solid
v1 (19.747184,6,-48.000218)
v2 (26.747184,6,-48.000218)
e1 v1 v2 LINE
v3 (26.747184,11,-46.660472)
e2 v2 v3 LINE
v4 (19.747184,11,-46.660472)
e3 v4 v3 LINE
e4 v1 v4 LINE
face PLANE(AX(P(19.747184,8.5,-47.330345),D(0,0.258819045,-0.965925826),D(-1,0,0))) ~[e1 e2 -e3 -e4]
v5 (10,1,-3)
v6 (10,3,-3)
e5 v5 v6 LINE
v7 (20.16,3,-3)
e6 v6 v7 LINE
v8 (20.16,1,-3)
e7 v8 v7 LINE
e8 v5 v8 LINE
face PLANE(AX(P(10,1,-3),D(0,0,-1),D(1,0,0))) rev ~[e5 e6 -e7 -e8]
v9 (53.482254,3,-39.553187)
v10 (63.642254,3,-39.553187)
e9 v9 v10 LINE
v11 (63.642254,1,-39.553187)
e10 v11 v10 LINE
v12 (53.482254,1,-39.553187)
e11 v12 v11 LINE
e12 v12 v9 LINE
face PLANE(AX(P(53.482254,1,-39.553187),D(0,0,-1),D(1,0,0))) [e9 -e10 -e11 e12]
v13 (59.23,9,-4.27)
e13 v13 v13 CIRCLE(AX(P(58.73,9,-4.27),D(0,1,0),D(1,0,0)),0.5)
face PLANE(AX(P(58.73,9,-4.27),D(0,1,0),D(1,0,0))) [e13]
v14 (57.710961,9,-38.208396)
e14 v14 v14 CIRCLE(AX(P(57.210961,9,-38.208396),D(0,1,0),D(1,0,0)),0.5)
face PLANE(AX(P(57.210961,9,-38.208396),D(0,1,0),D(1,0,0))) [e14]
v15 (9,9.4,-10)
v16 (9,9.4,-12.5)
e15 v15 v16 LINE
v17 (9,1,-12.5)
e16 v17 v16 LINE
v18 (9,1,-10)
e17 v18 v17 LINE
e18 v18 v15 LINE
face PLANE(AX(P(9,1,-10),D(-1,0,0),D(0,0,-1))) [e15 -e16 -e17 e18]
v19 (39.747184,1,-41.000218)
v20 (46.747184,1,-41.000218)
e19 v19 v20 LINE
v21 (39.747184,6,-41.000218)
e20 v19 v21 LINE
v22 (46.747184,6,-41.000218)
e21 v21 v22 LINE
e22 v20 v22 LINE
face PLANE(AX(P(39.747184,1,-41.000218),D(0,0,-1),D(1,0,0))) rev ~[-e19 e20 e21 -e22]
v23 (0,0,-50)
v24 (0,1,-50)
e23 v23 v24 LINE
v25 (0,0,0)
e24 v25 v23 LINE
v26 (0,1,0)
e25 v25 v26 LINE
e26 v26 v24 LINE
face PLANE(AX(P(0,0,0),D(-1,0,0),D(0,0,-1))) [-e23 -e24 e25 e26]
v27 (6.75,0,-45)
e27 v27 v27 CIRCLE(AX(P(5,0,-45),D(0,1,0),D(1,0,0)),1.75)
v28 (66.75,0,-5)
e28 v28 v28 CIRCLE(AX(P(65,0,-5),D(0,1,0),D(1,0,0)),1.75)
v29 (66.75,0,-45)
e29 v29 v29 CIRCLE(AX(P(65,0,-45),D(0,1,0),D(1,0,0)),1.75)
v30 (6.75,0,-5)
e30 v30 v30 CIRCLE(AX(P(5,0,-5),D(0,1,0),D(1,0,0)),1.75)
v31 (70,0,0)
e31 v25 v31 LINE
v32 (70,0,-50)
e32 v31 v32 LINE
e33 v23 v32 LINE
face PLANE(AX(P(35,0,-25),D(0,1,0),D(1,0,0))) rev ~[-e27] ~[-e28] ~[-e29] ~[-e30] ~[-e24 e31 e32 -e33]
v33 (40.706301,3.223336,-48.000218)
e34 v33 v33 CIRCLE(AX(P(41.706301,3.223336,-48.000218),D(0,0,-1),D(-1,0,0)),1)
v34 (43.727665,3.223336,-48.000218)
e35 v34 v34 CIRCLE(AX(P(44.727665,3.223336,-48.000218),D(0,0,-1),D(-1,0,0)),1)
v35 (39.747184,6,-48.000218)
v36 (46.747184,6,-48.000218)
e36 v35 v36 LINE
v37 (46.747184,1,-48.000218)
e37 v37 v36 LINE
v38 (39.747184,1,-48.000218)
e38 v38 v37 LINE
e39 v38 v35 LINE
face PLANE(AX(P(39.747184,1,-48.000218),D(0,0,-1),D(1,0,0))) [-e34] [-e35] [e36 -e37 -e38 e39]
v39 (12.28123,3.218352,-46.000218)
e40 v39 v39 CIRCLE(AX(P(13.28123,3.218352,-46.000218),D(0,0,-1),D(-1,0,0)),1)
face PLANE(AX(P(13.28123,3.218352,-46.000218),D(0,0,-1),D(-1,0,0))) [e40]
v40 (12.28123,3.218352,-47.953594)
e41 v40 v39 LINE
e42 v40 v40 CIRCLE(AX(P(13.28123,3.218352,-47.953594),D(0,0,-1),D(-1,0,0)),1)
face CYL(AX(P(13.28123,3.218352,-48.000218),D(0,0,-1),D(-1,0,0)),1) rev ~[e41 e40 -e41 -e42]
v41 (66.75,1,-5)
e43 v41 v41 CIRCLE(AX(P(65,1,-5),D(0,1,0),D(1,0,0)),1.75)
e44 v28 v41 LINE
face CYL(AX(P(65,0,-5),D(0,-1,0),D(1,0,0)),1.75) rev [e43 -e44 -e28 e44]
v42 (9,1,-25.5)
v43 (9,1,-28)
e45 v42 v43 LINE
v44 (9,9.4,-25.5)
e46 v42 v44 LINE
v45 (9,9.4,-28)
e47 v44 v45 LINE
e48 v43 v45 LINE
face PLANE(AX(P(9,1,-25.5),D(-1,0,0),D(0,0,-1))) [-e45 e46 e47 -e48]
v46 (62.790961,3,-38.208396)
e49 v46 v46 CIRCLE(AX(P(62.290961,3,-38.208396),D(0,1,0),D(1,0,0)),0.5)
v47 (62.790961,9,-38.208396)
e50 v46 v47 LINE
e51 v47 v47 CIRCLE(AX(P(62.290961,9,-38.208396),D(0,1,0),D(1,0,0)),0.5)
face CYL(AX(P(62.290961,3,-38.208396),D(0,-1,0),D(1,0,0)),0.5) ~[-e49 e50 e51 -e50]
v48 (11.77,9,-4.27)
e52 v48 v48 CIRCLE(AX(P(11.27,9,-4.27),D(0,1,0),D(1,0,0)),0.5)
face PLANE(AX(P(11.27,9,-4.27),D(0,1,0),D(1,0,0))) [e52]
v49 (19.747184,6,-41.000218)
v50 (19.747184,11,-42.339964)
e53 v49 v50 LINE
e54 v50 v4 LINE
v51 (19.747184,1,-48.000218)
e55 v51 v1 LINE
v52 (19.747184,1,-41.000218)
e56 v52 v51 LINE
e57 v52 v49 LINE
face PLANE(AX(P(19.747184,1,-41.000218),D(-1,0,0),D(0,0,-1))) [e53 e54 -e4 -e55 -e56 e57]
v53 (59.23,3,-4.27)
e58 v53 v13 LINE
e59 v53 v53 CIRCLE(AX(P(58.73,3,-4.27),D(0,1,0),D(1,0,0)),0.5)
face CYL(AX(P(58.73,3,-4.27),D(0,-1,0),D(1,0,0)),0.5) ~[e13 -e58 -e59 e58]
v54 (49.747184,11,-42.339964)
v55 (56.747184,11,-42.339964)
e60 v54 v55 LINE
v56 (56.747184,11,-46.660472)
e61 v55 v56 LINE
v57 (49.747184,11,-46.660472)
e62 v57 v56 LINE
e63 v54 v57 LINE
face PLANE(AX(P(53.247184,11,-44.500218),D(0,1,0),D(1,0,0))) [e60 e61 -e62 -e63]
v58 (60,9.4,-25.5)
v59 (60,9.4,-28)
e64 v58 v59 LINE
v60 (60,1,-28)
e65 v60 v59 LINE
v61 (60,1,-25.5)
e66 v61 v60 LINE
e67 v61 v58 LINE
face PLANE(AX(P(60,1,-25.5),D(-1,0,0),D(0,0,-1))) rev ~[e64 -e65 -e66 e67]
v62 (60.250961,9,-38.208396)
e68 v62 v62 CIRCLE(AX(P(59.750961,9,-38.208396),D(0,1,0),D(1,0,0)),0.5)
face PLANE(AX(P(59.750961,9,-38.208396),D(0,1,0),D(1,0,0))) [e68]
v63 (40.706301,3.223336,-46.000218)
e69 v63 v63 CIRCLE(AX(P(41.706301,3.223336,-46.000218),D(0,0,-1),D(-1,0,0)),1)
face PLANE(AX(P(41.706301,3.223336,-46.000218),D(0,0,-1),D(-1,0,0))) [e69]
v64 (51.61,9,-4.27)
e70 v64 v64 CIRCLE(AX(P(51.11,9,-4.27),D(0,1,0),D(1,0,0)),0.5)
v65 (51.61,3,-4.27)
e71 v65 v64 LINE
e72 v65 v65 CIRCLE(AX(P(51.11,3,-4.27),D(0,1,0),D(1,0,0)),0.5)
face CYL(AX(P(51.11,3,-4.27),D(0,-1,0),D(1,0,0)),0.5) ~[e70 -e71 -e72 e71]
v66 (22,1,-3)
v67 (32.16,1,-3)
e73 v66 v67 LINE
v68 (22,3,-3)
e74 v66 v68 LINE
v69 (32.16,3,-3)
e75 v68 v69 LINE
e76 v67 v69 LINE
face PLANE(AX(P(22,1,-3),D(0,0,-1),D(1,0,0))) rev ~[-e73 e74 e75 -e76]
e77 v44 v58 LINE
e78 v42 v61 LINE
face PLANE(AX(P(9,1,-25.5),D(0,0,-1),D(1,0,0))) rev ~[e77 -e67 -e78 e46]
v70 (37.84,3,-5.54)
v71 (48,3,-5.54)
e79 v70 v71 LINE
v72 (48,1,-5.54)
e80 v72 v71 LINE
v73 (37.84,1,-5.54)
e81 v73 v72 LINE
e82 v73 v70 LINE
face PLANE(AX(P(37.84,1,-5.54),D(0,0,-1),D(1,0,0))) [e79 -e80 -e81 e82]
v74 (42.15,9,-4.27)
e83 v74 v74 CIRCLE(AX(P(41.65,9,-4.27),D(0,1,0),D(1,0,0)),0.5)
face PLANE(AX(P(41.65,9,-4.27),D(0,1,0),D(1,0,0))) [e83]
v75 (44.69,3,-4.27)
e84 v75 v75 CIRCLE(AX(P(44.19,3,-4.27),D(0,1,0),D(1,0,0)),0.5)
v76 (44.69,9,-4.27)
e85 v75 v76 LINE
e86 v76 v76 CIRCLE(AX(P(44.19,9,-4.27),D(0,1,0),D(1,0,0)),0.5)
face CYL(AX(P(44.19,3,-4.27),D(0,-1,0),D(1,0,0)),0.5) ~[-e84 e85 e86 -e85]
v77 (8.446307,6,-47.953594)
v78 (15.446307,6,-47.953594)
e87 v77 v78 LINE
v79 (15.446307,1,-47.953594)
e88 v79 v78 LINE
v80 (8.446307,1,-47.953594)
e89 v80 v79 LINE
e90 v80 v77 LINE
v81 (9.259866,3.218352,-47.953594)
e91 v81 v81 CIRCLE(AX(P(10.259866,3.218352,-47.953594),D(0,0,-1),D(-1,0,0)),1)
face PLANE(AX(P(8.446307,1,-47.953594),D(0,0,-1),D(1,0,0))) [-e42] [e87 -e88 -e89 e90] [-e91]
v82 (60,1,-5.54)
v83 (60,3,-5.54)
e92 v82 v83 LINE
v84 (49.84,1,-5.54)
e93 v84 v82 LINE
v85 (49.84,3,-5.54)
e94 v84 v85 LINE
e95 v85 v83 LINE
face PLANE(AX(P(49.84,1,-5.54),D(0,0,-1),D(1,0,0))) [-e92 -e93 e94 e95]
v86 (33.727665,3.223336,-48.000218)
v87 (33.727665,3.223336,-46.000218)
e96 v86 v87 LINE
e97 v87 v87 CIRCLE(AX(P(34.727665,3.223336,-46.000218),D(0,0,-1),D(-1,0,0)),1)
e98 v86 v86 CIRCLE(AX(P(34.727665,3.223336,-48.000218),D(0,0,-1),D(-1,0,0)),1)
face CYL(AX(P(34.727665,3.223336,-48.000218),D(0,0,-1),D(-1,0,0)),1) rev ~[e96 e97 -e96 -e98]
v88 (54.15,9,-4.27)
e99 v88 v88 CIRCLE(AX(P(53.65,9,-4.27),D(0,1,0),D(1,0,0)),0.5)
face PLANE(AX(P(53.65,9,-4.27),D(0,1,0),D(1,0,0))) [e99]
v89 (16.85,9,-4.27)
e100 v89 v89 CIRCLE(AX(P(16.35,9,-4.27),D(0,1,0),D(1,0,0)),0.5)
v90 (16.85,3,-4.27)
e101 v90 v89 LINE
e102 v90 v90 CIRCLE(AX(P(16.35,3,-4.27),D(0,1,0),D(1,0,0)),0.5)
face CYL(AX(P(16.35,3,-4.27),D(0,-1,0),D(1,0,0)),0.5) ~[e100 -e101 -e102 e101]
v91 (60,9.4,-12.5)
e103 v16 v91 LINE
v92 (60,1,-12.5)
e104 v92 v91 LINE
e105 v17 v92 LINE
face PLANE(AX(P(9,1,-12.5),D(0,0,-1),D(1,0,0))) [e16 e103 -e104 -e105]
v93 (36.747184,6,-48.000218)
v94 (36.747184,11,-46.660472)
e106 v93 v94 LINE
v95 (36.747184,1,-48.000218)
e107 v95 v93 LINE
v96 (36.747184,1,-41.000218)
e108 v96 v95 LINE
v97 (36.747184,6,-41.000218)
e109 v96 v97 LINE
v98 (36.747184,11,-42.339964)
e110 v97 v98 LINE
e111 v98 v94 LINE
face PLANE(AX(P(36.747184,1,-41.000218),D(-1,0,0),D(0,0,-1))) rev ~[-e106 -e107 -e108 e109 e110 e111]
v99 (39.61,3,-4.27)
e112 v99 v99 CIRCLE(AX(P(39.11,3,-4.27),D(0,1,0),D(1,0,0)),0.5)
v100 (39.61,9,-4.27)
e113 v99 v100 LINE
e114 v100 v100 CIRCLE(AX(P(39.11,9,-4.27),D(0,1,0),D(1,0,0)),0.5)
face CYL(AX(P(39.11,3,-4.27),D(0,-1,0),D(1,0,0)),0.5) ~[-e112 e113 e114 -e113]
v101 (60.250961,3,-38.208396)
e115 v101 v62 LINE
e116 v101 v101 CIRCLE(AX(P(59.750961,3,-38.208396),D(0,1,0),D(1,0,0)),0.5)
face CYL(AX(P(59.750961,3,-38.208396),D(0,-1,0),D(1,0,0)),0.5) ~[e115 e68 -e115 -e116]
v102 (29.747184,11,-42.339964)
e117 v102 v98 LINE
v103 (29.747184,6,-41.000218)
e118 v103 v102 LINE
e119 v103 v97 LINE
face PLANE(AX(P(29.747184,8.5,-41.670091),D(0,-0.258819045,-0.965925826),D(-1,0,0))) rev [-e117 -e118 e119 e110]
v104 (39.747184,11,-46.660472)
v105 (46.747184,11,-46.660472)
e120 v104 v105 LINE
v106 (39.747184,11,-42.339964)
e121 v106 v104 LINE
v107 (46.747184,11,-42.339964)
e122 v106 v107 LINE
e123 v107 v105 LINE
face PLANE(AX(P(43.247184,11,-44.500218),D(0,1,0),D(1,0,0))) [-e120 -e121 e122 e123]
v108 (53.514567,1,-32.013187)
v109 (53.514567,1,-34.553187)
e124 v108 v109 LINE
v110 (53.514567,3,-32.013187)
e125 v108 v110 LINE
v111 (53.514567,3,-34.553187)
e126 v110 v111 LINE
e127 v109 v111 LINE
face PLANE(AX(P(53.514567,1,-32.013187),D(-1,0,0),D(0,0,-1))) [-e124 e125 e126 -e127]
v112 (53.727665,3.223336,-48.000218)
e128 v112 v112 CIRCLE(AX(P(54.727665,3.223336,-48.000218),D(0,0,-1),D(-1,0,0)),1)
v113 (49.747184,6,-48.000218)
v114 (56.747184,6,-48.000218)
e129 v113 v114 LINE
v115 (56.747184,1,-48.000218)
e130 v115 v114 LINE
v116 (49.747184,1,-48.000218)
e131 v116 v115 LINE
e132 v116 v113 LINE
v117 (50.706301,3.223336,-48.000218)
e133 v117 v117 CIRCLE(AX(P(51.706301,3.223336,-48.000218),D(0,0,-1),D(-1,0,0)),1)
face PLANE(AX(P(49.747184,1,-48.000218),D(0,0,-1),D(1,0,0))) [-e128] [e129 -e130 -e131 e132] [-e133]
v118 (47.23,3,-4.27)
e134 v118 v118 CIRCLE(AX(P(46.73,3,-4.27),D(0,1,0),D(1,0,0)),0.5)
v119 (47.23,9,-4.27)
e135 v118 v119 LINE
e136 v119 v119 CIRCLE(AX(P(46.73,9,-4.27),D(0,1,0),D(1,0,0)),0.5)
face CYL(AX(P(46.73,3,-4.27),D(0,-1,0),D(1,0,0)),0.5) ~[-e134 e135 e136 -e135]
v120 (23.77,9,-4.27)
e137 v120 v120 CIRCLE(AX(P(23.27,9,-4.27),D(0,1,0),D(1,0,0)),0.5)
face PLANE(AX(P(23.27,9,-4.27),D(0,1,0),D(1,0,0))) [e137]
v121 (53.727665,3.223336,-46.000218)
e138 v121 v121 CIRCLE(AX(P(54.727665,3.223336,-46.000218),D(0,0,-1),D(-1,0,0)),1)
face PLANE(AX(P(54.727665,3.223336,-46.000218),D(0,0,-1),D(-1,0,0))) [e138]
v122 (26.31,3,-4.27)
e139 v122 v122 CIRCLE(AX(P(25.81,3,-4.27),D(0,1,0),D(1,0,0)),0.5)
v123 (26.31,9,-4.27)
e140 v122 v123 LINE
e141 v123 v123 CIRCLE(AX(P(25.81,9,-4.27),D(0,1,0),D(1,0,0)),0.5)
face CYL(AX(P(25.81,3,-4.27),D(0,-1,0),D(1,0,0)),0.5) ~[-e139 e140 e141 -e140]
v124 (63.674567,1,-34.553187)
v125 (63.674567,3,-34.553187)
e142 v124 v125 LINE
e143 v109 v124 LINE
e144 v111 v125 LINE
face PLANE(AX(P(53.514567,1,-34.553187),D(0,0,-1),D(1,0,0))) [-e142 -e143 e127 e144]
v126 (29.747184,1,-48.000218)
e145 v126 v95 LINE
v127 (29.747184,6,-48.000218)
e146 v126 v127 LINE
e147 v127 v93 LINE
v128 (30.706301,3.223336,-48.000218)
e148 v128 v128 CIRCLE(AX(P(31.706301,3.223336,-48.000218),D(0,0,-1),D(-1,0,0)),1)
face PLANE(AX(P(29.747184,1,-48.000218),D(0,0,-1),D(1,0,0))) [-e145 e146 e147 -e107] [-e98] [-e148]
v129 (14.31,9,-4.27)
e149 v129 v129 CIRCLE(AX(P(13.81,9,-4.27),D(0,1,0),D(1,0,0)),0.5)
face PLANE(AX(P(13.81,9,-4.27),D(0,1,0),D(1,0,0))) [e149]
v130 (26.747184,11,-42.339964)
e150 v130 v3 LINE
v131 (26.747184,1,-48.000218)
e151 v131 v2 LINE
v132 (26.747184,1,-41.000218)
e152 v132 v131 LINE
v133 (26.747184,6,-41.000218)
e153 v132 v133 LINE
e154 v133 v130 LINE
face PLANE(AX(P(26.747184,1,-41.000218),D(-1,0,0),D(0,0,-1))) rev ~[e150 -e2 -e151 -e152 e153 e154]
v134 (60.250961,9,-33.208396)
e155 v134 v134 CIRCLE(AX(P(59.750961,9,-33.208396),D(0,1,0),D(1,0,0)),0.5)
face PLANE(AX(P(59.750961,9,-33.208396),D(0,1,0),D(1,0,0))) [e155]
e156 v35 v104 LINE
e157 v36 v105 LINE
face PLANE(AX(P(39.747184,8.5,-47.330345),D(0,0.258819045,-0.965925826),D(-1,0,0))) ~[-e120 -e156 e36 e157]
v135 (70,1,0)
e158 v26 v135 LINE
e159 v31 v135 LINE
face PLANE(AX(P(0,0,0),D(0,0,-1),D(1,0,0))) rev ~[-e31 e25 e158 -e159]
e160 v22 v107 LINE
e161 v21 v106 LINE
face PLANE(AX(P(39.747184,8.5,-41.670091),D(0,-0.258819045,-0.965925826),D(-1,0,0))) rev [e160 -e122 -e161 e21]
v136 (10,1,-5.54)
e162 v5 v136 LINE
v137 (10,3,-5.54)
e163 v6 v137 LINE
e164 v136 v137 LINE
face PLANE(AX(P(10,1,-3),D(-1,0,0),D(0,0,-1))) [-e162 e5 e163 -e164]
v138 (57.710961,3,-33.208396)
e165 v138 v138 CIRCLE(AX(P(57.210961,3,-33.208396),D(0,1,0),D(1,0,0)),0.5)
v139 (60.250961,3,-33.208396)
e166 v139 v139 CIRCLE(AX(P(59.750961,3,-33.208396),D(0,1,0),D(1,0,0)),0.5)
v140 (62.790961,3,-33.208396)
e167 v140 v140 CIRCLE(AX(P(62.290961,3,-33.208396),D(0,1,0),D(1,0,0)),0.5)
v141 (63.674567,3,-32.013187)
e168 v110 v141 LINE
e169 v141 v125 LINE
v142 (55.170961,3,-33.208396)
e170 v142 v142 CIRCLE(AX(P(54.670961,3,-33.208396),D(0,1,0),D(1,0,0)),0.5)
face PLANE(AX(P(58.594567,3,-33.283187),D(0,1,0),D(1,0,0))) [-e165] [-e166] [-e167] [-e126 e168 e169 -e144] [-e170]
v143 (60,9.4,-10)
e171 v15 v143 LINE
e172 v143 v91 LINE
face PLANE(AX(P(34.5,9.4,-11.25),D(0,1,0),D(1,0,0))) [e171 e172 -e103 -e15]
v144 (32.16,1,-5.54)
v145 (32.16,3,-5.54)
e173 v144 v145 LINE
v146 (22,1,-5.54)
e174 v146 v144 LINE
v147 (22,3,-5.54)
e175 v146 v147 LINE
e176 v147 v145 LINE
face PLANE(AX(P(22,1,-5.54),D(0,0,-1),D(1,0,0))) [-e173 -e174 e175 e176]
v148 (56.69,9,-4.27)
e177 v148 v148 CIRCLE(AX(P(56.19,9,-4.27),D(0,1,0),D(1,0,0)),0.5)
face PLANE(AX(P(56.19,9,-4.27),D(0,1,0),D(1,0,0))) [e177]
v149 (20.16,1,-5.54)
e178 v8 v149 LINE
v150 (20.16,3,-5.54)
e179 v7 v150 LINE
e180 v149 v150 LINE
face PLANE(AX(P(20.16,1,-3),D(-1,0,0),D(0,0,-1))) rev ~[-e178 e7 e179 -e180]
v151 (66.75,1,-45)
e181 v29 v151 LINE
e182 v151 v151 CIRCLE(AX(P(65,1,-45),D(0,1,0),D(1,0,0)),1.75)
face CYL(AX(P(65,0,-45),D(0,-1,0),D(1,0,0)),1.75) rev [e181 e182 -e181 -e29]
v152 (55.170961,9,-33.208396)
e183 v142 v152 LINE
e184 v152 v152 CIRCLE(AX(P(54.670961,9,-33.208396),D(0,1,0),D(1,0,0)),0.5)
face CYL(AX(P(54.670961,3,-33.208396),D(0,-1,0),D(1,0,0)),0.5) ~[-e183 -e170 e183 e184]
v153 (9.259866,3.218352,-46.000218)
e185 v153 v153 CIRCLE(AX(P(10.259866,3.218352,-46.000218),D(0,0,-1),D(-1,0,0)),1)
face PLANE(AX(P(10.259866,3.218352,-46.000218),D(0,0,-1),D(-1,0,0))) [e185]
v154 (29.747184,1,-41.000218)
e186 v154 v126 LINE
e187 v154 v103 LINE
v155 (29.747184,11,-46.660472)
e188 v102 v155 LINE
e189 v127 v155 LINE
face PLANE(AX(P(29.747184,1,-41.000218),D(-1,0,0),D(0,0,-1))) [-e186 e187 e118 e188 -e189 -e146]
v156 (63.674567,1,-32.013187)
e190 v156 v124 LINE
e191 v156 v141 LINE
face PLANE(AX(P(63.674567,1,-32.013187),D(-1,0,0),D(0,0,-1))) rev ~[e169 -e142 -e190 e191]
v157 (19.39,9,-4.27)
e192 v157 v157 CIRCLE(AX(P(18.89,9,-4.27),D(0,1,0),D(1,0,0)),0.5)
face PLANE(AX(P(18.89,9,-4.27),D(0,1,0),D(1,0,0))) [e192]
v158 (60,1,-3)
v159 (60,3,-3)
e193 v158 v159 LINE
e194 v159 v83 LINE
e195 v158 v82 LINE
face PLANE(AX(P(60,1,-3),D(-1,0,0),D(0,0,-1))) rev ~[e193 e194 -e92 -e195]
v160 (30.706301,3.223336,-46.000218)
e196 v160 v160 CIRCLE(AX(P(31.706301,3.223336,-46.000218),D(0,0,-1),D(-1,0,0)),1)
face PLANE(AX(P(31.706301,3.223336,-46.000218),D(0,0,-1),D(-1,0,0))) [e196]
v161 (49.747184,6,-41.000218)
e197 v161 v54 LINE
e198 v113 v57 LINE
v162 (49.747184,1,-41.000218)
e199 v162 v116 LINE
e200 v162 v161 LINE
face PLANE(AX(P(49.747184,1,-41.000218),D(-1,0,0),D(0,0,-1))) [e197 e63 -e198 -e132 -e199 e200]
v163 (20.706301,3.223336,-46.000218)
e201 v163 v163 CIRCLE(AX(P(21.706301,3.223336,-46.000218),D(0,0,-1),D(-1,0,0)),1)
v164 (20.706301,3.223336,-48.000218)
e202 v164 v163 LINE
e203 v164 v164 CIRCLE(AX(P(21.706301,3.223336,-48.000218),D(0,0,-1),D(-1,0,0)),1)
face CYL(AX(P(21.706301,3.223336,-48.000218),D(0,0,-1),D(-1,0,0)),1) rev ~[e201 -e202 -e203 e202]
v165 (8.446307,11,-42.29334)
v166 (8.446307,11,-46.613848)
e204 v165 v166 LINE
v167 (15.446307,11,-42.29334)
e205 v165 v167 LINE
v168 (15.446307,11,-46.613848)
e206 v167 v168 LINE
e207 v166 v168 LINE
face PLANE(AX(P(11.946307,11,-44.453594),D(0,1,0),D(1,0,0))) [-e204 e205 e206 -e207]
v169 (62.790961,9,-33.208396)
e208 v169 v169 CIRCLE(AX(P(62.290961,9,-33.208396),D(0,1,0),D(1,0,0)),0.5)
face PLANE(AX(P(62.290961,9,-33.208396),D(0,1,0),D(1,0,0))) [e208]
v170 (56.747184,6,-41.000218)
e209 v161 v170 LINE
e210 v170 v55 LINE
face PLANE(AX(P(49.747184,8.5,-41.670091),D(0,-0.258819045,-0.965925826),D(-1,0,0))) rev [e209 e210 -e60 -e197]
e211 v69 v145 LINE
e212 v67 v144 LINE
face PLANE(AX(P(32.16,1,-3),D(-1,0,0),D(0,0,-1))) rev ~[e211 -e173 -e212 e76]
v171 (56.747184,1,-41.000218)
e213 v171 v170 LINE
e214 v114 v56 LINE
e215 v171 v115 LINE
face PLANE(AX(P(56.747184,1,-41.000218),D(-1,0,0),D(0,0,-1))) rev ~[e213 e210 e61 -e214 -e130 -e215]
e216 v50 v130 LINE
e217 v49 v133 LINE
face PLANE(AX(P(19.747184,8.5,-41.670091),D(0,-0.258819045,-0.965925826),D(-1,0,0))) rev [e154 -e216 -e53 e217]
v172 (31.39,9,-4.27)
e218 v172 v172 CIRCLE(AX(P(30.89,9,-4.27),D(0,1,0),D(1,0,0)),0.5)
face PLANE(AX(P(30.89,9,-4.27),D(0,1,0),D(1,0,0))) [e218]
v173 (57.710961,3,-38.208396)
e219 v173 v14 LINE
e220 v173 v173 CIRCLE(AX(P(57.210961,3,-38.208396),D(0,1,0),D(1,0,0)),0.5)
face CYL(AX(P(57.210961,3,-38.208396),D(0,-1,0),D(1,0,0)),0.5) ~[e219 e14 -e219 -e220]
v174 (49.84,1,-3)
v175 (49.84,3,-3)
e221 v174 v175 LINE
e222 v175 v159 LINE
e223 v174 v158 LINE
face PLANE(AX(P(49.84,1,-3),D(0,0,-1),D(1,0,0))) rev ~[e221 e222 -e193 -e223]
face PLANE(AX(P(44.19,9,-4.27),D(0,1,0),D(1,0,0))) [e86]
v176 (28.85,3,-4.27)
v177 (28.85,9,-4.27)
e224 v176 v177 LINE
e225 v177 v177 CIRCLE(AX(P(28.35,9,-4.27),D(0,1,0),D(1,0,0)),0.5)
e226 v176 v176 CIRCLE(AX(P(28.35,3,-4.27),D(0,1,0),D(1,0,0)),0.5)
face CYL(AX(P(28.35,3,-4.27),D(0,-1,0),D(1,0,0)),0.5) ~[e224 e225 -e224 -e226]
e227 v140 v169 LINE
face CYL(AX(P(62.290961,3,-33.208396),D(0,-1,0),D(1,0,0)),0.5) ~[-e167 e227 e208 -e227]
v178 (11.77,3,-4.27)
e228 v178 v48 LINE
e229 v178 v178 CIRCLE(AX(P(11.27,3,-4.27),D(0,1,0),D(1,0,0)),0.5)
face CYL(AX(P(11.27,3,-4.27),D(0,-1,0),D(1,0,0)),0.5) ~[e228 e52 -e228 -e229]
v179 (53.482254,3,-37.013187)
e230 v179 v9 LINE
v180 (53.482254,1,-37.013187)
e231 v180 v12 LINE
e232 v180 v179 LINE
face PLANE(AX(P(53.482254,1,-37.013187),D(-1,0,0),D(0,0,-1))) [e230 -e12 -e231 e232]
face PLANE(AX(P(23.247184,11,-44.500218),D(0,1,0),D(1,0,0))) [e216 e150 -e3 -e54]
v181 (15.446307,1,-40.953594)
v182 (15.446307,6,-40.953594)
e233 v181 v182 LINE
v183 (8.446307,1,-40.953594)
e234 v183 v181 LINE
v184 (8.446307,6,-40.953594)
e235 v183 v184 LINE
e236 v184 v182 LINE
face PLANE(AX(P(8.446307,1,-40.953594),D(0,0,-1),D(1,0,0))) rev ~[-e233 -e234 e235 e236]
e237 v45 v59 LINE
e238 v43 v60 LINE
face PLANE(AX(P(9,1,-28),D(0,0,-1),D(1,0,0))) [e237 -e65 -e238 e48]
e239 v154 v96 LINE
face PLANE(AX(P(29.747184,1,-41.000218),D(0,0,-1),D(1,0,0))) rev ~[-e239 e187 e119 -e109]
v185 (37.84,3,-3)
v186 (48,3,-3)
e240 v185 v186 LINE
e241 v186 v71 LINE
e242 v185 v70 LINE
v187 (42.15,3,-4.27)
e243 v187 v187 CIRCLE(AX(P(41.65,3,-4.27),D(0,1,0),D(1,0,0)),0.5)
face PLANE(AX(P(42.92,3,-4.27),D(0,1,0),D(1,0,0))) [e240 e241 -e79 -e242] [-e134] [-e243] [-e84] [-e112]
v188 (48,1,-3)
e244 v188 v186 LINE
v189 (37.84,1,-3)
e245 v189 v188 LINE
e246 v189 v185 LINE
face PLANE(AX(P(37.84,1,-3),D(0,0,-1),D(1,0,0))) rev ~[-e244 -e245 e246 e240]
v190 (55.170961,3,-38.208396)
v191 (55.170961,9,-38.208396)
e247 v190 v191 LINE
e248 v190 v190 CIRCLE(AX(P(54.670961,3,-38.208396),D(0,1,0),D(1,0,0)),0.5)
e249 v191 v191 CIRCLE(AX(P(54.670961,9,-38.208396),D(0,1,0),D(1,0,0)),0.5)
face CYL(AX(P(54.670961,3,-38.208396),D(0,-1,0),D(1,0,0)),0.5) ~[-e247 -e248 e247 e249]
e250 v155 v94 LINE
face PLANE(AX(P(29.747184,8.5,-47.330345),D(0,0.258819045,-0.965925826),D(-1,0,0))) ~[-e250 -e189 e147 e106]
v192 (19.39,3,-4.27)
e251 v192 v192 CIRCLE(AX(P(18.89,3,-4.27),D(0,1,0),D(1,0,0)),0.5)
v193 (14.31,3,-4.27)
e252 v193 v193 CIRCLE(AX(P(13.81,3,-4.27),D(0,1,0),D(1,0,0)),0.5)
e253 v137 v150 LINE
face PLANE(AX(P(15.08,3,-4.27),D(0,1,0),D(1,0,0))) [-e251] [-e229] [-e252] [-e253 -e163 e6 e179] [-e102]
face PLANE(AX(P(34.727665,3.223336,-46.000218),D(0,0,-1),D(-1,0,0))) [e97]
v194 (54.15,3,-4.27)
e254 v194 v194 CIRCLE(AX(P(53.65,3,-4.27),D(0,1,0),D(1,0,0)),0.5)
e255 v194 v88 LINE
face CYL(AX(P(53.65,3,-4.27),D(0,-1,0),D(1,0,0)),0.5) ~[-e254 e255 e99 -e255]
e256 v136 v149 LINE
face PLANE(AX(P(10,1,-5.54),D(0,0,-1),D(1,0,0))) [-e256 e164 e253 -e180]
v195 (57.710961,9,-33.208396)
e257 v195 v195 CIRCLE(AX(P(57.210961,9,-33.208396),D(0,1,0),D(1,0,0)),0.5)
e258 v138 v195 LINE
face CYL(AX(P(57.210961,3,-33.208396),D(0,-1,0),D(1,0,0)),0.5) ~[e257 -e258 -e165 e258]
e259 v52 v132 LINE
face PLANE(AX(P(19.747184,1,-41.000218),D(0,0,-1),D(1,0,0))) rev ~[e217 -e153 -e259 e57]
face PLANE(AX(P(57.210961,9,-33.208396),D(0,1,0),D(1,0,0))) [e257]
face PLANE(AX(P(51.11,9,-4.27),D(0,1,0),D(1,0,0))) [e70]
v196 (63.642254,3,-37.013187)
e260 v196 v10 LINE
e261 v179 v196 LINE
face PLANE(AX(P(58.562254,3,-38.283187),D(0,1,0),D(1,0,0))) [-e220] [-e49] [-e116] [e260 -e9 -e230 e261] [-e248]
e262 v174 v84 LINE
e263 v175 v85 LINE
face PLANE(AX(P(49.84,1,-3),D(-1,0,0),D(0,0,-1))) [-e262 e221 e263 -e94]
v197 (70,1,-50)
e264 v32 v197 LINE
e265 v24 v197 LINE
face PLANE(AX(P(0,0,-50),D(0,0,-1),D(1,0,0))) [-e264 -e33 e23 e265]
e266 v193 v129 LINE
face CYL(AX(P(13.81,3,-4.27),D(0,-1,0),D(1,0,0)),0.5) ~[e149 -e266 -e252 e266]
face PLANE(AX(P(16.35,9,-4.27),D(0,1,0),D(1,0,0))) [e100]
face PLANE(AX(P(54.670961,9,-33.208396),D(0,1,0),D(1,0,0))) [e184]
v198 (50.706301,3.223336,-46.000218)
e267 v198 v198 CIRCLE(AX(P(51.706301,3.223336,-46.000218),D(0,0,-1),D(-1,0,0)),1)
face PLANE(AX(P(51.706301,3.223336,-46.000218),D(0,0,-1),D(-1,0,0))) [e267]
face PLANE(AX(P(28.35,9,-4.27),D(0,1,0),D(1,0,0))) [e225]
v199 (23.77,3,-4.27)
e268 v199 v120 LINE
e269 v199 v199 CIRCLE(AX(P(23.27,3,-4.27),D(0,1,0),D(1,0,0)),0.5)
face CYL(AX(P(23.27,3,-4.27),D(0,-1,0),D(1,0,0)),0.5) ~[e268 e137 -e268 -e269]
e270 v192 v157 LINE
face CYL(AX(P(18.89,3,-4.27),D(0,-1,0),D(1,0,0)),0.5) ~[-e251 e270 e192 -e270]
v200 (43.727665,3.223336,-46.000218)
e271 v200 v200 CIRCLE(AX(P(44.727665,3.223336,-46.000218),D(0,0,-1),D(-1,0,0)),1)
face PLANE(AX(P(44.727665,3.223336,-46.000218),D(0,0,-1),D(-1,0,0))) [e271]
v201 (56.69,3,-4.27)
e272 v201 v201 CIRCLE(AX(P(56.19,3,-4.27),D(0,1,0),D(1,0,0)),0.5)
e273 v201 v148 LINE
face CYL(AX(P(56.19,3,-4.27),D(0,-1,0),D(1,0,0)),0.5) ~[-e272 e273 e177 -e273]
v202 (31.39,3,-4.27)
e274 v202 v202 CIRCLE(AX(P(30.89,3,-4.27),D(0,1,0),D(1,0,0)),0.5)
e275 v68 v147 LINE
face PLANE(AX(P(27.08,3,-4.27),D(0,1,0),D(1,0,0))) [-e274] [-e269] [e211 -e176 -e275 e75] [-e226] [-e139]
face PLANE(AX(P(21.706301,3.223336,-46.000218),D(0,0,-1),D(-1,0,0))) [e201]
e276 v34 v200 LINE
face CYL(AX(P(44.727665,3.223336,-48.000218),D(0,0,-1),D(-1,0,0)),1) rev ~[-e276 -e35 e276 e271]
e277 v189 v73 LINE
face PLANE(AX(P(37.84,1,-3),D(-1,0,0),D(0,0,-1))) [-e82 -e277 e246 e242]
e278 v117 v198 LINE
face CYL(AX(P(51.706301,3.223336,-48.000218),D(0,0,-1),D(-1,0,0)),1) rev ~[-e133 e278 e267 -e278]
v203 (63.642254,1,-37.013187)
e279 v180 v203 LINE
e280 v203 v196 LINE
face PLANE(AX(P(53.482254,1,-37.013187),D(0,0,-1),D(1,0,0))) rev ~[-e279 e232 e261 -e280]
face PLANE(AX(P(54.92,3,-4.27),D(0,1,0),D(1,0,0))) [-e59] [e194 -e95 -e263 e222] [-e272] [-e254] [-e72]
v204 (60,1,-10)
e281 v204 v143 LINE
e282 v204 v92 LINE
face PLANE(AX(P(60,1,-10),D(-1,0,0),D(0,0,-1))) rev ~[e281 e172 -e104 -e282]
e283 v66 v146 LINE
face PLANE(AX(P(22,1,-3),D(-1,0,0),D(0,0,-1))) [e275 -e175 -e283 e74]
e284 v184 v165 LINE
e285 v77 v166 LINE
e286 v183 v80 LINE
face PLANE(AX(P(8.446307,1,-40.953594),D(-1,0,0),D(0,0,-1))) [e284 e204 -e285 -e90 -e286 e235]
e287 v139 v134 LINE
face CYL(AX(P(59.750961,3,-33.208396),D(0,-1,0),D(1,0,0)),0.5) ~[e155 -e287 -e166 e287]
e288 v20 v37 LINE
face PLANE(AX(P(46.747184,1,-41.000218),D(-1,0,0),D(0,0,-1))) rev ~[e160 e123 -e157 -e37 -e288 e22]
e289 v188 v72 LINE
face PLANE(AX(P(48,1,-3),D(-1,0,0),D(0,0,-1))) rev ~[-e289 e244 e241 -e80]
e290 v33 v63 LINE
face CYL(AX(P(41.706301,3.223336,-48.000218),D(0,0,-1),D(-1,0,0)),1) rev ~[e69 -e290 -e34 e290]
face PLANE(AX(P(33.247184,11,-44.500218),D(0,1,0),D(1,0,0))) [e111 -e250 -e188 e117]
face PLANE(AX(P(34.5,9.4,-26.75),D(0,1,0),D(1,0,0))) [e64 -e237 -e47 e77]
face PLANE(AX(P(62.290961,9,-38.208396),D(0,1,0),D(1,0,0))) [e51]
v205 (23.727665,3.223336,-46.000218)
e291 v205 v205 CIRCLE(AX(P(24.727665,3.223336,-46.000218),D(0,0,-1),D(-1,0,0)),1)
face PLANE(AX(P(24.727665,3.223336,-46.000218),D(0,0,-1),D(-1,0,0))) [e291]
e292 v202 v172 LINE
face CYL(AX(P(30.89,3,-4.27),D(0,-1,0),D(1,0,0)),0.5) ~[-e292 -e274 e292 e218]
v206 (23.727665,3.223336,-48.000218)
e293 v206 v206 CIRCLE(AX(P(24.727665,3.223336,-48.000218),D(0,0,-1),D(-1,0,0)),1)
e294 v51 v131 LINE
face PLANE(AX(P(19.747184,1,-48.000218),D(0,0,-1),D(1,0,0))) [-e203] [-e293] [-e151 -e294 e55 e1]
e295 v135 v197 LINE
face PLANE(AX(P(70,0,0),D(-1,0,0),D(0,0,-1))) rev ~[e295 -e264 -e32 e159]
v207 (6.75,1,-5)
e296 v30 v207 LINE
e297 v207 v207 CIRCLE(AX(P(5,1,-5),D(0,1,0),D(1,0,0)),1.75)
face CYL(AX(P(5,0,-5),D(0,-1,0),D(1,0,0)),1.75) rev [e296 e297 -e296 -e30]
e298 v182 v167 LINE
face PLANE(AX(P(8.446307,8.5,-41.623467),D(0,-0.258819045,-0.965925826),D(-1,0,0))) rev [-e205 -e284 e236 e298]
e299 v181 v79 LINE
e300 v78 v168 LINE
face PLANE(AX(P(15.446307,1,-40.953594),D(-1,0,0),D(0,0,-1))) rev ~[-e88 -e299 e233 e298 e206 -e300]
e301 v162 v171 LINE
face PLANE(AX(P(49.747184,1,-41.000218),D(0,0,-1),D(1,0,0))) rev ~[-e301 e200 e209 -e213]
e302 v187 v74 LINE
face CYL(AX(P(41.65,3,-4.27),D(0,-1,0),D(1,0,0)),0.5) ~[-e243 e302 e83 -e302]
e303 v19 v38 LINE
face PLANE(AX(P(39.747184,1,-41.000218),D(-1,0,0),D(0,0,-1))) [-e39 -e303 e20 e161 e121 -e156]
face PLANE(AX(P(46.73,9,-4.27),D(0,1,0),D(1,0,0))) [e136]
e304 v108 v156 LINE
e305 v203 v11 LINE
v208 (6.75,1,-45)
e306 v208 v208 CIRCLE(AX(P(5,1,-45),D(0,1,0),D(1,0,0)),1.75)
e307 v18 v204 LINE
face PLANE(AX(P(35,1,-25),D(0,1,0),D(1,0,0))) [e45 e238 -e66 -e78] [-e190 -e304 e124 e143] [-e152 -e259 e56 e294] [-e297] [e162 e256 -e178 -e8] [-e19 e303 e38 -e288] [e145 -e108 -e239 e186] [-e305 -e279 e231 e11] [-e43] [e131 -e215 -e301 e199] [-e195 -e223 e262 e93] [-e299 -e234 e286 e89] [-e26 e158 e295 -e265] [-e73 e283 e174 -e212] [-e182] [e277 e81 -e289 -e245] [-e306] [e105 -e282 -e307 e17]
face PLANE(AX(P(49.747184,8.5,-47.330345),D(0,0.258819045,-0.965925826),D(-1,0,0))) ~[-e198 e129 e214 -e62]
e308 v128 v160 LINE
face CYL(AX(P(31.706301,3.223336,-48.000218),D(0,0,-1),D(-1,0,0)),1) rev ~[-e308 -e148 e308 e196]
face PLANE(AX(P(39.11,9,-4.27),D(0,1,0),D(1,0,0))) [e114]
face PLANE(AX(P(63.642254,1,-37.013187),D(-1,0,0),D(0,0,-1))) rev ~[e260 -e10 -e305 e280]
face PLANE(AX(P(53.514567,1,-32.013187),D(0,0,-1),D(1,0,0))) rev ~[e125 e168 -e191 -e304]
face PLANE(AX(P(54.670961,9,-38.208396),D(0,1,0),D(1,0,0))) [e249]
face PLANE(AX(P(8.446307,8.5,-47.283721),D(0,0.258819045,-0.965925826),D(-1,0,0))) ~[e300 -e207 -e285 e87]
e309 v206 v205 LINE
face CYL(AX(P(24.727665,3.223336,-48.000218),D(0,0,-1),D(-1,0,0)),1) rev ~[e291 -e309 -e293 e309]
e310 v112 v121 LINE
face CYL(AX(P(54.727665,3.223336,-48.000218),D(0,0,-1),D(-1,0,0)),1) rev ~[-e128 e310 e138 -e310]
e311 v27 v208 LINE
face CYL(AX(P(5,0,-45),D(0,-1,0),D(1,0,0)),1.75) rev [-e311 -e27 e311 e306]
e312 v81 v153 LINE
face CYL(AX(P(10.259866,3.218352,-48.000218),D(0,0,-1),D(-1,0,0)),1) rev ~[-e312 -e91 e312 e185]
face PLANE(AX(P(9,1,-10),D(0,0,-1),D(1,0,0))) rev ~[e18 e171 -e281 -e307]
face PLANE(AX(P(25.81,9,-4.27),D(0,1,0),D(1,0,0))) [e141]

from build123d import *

# Parameters (mm, degrees)
SKETCH_2_W              = 70
SKETCH_2_H              = 50
SKETCH_2_R              = 1.75
EXTRUDE_1_DEPTH         = 1
SKETCH_3_W              = 51
SKETCH_3_H              = 2.5
EXTRUDE_2_DEPTH         = 8.4
SKETCH_4_W              = 10.16
SKETCH_4_H              = 2.54
EXTRUDE_3_DEPTH         = 2
SKETCH_5_R              = 0.5
EXTRUDE_4_DEPTH         = 6
SKETCH_6_W              = 7
SKETCH_6_H              = 7
EXTRUDE_5_DEPTH         = 10
CHAMFER_1_SIZE          = 5
CHAMFER_1_SIZE2         = 1.339745962
CHAMFER_1_PART_2_SIZE   = 5
CHAMFER_1_PART_2_SIZE2  = 1.339745962
CHAMFER_1_PART_3_SIZE   = 5
CHAMFER_1_PART_3_SIZE2  = 1.339745962
CHAMFER_1_PART_4_SIZE   = 5
CHAMFER_1_PART_4_SIZE2  = 1.339745962
CHAMFER_1_PART_5_SIZE   = 5
CHAMFER_1_PART_5_SIZE2  = 1.339745962
CHAMFER_1_PART_6_SIZE   = 5
CHAMFER_1_PART_6_SIZE2  = 1.339745962
CHAMFER_1_PART_7_SIZE   = 5
CHAMFER_1_PART_7_SIZE2  = 1.339745962
CHAMFER_1_PART_8_SIZE   = 5
CHAMFER_1_PART_8_SIZE2  = 1.339745962
CHAMFER_1_PART_9_SIZE   = 5
CHAMFER_1_PART_9_SIZE2  = 1.339745962
CHAMFER_1_PART_10_SIZE  = 5
CHAMFER_1_PART_10_SIZE2 = 1.339745962
CUT_EXTRUDE_START       = 0.046624
SKETCH_7_R              = 1
CUT_EXTRUDE_1_DEPTH     = 2


with BuildPart() as part:
    # Эскиз2 → Бобышка-Вытянуть1 (new body)
    with BuildSketch(Plane(origin=(0, 0, 0), x_dir=(1, 0, 0), z_dir=(0, 1, 0))):
        with Locations((35, 25)):
            Rectangle(SKETCH_2_W, SKETCH_2_H)
        with Locations((5, 45)):
            Circle(SKETCH_2_R, mode=Mode.SUBTRACT)
        with Locations((65, 45)):
            Circle(SKETCH_2_R, mode=Mode.SUBTRACT)
        with Locations((65, 5)):
            Circle(SKETCH_2_R, mode=Mode.SUBTRACT)
        with Locations((5, 5)):
            Circle(SKETCH_2_R, mode=Mode.SUBTRACT)
    extrude(amount=EXTRUDE_1_DEPTH)

    # Эскиз3 → Бобышка-Вытянуть2 (add)
    with BuildSketch(Plane(origin=(0, 1, 0), x_dir=(1, 0, 0), z_dir=(0, 1, 0))):
        with Locations((34.5, 11.25)):
            Rectangle(SKETCH_3_W, SKETCH_3_H)
        with Locations((34.5, 26.75)):
            Rectangle(SKETCH_3_W, SKETCH_3_H)
    extrude(amount=EXTRUDE_2_DEPTH)

    # Эскиз4 → Бобышка-Вытянуть3 (add)
    with BuildSketch(Plane(origin=(0, 1, 0), x_dir=(1, 0, 0), z_dir=(0, 1, 0))):
        with Locations((54.92, 4.27)):
            Rectangle(SKETCH_4_W, SKETCH_4_H)
        with Locations((42.92, 4.27)):
            Rectangle(SKETCH_4_W, SKETCH_4_H)
        with Locations((15.08, 4.27)):
            Rectangle(SKETCH_4_W, SKETCH_4_H)
        with Locations((27.08, 4.27)):
            Rectangle(SKETCH_4_W, SKETCH_4_H)
        with Locations((58.562253528, 38.283187026)):
            Rectangle(SKETCH_4_W, SKETCH_4_H)
        with Locations((58.594566993, 33.283187026)):
            Rectangle(SKETCH_4_W, SKETCH_4_H)
    extrude(amount=EXTRUDE_3_DEPTH)

    # Эскиз5 → Бобышка-Вытянуть4 (add)
    with BuildSketch(Plane(origin=(0, 3, 0), x_dir=(1, 0, 0), z_dir=(0, 1, 0))):
        with Locations((58.73, 4.27)):
            Circle(SKETCH_5_R)
        with Locations((56.19, 4.27)):
            Circle(SKETCH_5_R)
        with Locations((53.65, 4.27)):
            Circle(SKETCH_5_R)
        with Locations((51.11, 4.27)):
            Circle(SKETCH_5_R)
        with Locations((46.73, 4.27)):
            Circle(SKETCH_5_R)
        with Locations((44.19, 4.27)):
            Circle(SKETCH_5_R)
        with Locations((41.65, 4.27)):
            Circle(SKETCH_5_R)
        with Locations((39.11, 4.27)):
            Circle(SKETCH_5_R)
        with Locations((25.81, 4.27)):
            Circle(SKETCH_5_R)
        with Locations((11.27, 4.27)):
            Circle(SKETCH_5_R)
        with Locations((13.81, 4.27)):
            Circle(SKETCH_5_R)
        with Locations((16.35, 4.27)):
            Circle(SKETCH_5_R)
        with Locations((18.89, 4.27)):
            Circle(SKETCH_5_R)
        with Locations((23.27, 4.27)):
            Circle(SKETCH_5_R)
        with Locations((28.35, 4.27)):
            Circle(SKETCH_5_R)
        with Locations((30.89, 4.27)):
            Circle(SKETCH_5_R)
        with Locations((54.67096141, 33.208395661)):
            Circle(SKETCH_5_R)
        with Locations((54.67096141, 38.208395661)):
            Circle(SKETCH_5_R)
        with Locations((57.21096141, 33.208395661)):
            Circle(SKETCH_5_R)
        with Locations((59.75096141, 33.208395661)):
            Circle(SKETCH_5_R)
        with Locations((62.29096141, 33.208395661)):
            Circle(SKETCH_5_R)
        with Locations((57.21096141, 38.208395661)):
            Circle(SKETCH_5_R)
        with Locations((59.75096141, 38.208395661)):
            Circle(SKETCH_5_R)
        with Locations((62.29096141, 38.208395661)):
            Circle(SKETCH_5_R)
    extrude(amount=EXTRUDE_4_DEPTH)

    # Эскиз6 → Бобышка-Вытянуть5 (add)
    with BuildSketch(Plane(origin=(0, 1, 0), x_dir=(1, 0, 0), z_dir=(0, 1, 0))):
        with Locations((23.247184381, 44.500218353)):
            Rectangle(SKETCH_6_W, SKETCH_6_H)
        with Locations((11.946306787, 44.453594358)):
            Rectangle(SKETCH_6_W, SKETCH_6_H)
        with Locations((33.247184381, 44.500218353)):
            Rectangle(SKETCH_6_W, SKETCH_6_H)
        with Locations((43.247184381, 44.500218353)):
            Rectangle(SKETCH_6_W, SKETCH_6_H)
        with Locations((53.247184381, 44.500218353)):
            Rectangle(SKETCH_6_W, SKETCH_6_H)
    extrude(amount=EXTRUDE_5_DEPTH)

    # Фаска1
    chamfer_1_edges = [part.edges().sort_by_distance(p)[0] for p in [
        (23.247184381, 11, -41.000218353),
    ]]
    chamfer_1_side = [part.faces().sort_by_distance(p)[0] for p in [
        (23.247184381, 6, -41.000218353),
    ]]
    chamfer(chamfer_1_edges, length=CHAMFER_1_SIZE, length2=CHAMFER_1_SIZE2, reference=chamfer_1_side[0])

    # Фаска1 part 2
    chamfer_1_part_2_edges = [part.edges().sort_by_distance(p)[0] for p in [
        (23.247184381, 11, -48.000218353),
    ]]
    chamfer_1_part_2_side = [part.faces().sort_by_distance(p)[0] for p in [
        (23.247184381, 6, -48.000218353),
    ]]
    chamfer(chamfer_1_part_2_edges, length=CHAMFER_1_PART_2_SIZE, length2=CHAMFER_1_PART_2_SIZE2, reference=chamfer_1_part_2_side[0])

    # Фаска1 part 3
    chamfer_1_part_3_edges = [part.edges().sort_by_distance(p)[0] for p in [
        (11.946306787, 11, -40.953594358),
    ]]
    chamfer_1_part_3_side = [part.faces().sort_by_distance(p)[0] for p in [
        (11.946306787, 6, -40.953594358),
    ]]
    chamfer(chamfer_1_part_3_edges, length=CHAMFER_1_PART_3_SIZE, length2=CHAMFER_1_PART_3_SIZE2, reference=chamfer_1_part_3_side[0])

    # Фаска1 part 4
    chamfer_1_part_4_edges = [part.edges().sort_by_distance(p)[0] for p in [
        (11.946306787, 11, -47.953594358),
    ]]
    chamfer_1_part_4_side = [part.faces().sort_by_distance(p)[0] for p in [
        (11.946306787, 6, -47.953594358),
    ]]
    chamfer(chamfer_1_part_4_edges, length=CHAMFER_1_PART_4_SIZE, length2=CHAMFER_1_PART_4_SIZE2, reference=chamfer_1_part_4_side[0])

    # Фаска1 part 5
    chamfer_1_part_5_edges = [part.edges().sort_by_distance(p)[0] for p in [
        (33.247184381, 11, -41.000218353),
    ]]
    chamfer_1_part_5_side = [part.faces().sort_by_distance(p)[0] for p in [
        (33.247184381, 6, -41.000218353),
    ]]
    chamfer(chamfer_1_part_5_edges, length=CHAMFER_1_PART_5_SIZE, length2=CHAMFER_1_PART_5_SIZE2, reference=chamfer_1_part_5_side[0])

    # Фаска1 part 6
    chamfer_1_part_6_edges = [part.edges().sort_by_distance(p)[0] for p in [
        (33.247184381, 11, -48.000218353),
    ]]
    chamfer_1_part_6_side = [part.faces().sort_by_distance(p)[0] for p in [
        (33.247184381, 6, -48.000218353),
    ]]
    chamfer(chamfer_1_part_6_edges, length=CHAMFER_1_PART_6_SIZE, length2=CHAMFER_1_PART_6_SIZE2, reference=chamfer_1_part_6_side[0])

    # Фаска1 part 7
    chamfer_1_part_7_edges = [part.edges().sort_by_distance(p)[0] for p in [
        (43.247184381, 11, -41.000218353),
    ]]
    chamfer_1_part_7_side = [part.faces().sort_by_distance(p)[0] for p in [
        (43.247184381, 6, -41.000218353),
    ]]
    chamfer(chamfer_1_part_7_edges, length=CHAMFER_1_PART_7_SIZE, length2=CHAMFER_1_PART_7_SIZE2, reference=chamfer_1_part_7_side[0])

    # Фаска1 part 8
    chamfer_1_part_8_edges = [part.edges().sort_by_distance(p)[0] for p in [
        (43.247184381, 11, -48.000218353),
    ]]
    chamfer_1_part_8_side = [part.faces().sort_by_distance(p)[0] for p in [
        (43.247184381, 6, -48.000218353),
    ]]
    chamfer(chamfer_1_part_8_edges, length=CHAMFER_1_PART_8_SIZE, length2=CHAMFER_1_PART_8_SIZE2, reference=chamfer_1_part_8_side[0])

    # Фаска1 part 9
    chamfer_1_part_9_edges = [part.edges().sort_by_distance(p)[0] for p in [
        (53.247184381, 11, -41.000218353),
    ]]
    chamfer_1_part_9_side = [part.faces().sort_by_distance(p)[0] for p in [
        (53.247184381, 6, -41.000218353),
    ]]
    chamfer(chamfer_1_part_9_edges, length=CHAMFER_1_PART_9_SIZE, length2=CHAMFER_1_PART_9_SIZE2, reference=chamfer_1_part_9_side[0])

    # Фаска1 part 10
    chamfer_1_part_10_edges = [part.edges().sort_by_distance(p)[0] for p in [
        (53.247184381, 11, -48.000218353),
    ]]
    chamfer_1_part_10_side = [part.faces().sort_by_distance(p)[0] for p in [
        (53.247184381, 6, -48.000218353),
    ]]
    chamfer(chamfer_1_part_10_edges, length=CHAMFER_1_PART_10_SIZE, length2=CHAMFER_1_PART_10_SIZE2, reference=chamfer_1_part_10_side[0])

    # Эскиз7 → Вырез-Вытянуть1 (cut)
    with BuildSketch(Plane(origin=(0, 0, -47.953594358), x_dir=(-1, 0, 0), z_dir=(0, 0, -1)).offset(CUT_EXTRUDE_START)):
        with Locations((-10.259866322, 3.21835238)):
            Circle(SKETCH_7_R)
        with Locations((-13.281229876, 3.21835238)):
            Circle(SKETCH_7_R)
        with Locations((-21.706301123, 3.223335503)):
            Circle(SKETCH_7_R)
        with Locations((-24.727664678, 3.223335503)):
            Circle(SKETCH_7_R)
        with Locations((-34.727664678, 3.223335503)):
            Circle(SKETCH_7_R)
        with Locations((-31.706301123, 3.223335503)):
            Circle(SKETCH_7_R)
        with Locations((-44.727664678, 3.223335503)):
            Circle(SKETCH_7_R)
        with Locations((-41.706301123, 3.223335503)):
            Circle(SKETCH_7_R)
        with Locations((-54.727664678, 3.223335503)):
            Circle(SKETCH_7_R)
        with Locations((-51.706301123, 3.223335503)):
            Circle(SKETCH_7_R)
    extrude(amount=-CUT_EXTRUDE_1_DEPTH, mode=Mode.SUBTRACT)


solid = part.part
